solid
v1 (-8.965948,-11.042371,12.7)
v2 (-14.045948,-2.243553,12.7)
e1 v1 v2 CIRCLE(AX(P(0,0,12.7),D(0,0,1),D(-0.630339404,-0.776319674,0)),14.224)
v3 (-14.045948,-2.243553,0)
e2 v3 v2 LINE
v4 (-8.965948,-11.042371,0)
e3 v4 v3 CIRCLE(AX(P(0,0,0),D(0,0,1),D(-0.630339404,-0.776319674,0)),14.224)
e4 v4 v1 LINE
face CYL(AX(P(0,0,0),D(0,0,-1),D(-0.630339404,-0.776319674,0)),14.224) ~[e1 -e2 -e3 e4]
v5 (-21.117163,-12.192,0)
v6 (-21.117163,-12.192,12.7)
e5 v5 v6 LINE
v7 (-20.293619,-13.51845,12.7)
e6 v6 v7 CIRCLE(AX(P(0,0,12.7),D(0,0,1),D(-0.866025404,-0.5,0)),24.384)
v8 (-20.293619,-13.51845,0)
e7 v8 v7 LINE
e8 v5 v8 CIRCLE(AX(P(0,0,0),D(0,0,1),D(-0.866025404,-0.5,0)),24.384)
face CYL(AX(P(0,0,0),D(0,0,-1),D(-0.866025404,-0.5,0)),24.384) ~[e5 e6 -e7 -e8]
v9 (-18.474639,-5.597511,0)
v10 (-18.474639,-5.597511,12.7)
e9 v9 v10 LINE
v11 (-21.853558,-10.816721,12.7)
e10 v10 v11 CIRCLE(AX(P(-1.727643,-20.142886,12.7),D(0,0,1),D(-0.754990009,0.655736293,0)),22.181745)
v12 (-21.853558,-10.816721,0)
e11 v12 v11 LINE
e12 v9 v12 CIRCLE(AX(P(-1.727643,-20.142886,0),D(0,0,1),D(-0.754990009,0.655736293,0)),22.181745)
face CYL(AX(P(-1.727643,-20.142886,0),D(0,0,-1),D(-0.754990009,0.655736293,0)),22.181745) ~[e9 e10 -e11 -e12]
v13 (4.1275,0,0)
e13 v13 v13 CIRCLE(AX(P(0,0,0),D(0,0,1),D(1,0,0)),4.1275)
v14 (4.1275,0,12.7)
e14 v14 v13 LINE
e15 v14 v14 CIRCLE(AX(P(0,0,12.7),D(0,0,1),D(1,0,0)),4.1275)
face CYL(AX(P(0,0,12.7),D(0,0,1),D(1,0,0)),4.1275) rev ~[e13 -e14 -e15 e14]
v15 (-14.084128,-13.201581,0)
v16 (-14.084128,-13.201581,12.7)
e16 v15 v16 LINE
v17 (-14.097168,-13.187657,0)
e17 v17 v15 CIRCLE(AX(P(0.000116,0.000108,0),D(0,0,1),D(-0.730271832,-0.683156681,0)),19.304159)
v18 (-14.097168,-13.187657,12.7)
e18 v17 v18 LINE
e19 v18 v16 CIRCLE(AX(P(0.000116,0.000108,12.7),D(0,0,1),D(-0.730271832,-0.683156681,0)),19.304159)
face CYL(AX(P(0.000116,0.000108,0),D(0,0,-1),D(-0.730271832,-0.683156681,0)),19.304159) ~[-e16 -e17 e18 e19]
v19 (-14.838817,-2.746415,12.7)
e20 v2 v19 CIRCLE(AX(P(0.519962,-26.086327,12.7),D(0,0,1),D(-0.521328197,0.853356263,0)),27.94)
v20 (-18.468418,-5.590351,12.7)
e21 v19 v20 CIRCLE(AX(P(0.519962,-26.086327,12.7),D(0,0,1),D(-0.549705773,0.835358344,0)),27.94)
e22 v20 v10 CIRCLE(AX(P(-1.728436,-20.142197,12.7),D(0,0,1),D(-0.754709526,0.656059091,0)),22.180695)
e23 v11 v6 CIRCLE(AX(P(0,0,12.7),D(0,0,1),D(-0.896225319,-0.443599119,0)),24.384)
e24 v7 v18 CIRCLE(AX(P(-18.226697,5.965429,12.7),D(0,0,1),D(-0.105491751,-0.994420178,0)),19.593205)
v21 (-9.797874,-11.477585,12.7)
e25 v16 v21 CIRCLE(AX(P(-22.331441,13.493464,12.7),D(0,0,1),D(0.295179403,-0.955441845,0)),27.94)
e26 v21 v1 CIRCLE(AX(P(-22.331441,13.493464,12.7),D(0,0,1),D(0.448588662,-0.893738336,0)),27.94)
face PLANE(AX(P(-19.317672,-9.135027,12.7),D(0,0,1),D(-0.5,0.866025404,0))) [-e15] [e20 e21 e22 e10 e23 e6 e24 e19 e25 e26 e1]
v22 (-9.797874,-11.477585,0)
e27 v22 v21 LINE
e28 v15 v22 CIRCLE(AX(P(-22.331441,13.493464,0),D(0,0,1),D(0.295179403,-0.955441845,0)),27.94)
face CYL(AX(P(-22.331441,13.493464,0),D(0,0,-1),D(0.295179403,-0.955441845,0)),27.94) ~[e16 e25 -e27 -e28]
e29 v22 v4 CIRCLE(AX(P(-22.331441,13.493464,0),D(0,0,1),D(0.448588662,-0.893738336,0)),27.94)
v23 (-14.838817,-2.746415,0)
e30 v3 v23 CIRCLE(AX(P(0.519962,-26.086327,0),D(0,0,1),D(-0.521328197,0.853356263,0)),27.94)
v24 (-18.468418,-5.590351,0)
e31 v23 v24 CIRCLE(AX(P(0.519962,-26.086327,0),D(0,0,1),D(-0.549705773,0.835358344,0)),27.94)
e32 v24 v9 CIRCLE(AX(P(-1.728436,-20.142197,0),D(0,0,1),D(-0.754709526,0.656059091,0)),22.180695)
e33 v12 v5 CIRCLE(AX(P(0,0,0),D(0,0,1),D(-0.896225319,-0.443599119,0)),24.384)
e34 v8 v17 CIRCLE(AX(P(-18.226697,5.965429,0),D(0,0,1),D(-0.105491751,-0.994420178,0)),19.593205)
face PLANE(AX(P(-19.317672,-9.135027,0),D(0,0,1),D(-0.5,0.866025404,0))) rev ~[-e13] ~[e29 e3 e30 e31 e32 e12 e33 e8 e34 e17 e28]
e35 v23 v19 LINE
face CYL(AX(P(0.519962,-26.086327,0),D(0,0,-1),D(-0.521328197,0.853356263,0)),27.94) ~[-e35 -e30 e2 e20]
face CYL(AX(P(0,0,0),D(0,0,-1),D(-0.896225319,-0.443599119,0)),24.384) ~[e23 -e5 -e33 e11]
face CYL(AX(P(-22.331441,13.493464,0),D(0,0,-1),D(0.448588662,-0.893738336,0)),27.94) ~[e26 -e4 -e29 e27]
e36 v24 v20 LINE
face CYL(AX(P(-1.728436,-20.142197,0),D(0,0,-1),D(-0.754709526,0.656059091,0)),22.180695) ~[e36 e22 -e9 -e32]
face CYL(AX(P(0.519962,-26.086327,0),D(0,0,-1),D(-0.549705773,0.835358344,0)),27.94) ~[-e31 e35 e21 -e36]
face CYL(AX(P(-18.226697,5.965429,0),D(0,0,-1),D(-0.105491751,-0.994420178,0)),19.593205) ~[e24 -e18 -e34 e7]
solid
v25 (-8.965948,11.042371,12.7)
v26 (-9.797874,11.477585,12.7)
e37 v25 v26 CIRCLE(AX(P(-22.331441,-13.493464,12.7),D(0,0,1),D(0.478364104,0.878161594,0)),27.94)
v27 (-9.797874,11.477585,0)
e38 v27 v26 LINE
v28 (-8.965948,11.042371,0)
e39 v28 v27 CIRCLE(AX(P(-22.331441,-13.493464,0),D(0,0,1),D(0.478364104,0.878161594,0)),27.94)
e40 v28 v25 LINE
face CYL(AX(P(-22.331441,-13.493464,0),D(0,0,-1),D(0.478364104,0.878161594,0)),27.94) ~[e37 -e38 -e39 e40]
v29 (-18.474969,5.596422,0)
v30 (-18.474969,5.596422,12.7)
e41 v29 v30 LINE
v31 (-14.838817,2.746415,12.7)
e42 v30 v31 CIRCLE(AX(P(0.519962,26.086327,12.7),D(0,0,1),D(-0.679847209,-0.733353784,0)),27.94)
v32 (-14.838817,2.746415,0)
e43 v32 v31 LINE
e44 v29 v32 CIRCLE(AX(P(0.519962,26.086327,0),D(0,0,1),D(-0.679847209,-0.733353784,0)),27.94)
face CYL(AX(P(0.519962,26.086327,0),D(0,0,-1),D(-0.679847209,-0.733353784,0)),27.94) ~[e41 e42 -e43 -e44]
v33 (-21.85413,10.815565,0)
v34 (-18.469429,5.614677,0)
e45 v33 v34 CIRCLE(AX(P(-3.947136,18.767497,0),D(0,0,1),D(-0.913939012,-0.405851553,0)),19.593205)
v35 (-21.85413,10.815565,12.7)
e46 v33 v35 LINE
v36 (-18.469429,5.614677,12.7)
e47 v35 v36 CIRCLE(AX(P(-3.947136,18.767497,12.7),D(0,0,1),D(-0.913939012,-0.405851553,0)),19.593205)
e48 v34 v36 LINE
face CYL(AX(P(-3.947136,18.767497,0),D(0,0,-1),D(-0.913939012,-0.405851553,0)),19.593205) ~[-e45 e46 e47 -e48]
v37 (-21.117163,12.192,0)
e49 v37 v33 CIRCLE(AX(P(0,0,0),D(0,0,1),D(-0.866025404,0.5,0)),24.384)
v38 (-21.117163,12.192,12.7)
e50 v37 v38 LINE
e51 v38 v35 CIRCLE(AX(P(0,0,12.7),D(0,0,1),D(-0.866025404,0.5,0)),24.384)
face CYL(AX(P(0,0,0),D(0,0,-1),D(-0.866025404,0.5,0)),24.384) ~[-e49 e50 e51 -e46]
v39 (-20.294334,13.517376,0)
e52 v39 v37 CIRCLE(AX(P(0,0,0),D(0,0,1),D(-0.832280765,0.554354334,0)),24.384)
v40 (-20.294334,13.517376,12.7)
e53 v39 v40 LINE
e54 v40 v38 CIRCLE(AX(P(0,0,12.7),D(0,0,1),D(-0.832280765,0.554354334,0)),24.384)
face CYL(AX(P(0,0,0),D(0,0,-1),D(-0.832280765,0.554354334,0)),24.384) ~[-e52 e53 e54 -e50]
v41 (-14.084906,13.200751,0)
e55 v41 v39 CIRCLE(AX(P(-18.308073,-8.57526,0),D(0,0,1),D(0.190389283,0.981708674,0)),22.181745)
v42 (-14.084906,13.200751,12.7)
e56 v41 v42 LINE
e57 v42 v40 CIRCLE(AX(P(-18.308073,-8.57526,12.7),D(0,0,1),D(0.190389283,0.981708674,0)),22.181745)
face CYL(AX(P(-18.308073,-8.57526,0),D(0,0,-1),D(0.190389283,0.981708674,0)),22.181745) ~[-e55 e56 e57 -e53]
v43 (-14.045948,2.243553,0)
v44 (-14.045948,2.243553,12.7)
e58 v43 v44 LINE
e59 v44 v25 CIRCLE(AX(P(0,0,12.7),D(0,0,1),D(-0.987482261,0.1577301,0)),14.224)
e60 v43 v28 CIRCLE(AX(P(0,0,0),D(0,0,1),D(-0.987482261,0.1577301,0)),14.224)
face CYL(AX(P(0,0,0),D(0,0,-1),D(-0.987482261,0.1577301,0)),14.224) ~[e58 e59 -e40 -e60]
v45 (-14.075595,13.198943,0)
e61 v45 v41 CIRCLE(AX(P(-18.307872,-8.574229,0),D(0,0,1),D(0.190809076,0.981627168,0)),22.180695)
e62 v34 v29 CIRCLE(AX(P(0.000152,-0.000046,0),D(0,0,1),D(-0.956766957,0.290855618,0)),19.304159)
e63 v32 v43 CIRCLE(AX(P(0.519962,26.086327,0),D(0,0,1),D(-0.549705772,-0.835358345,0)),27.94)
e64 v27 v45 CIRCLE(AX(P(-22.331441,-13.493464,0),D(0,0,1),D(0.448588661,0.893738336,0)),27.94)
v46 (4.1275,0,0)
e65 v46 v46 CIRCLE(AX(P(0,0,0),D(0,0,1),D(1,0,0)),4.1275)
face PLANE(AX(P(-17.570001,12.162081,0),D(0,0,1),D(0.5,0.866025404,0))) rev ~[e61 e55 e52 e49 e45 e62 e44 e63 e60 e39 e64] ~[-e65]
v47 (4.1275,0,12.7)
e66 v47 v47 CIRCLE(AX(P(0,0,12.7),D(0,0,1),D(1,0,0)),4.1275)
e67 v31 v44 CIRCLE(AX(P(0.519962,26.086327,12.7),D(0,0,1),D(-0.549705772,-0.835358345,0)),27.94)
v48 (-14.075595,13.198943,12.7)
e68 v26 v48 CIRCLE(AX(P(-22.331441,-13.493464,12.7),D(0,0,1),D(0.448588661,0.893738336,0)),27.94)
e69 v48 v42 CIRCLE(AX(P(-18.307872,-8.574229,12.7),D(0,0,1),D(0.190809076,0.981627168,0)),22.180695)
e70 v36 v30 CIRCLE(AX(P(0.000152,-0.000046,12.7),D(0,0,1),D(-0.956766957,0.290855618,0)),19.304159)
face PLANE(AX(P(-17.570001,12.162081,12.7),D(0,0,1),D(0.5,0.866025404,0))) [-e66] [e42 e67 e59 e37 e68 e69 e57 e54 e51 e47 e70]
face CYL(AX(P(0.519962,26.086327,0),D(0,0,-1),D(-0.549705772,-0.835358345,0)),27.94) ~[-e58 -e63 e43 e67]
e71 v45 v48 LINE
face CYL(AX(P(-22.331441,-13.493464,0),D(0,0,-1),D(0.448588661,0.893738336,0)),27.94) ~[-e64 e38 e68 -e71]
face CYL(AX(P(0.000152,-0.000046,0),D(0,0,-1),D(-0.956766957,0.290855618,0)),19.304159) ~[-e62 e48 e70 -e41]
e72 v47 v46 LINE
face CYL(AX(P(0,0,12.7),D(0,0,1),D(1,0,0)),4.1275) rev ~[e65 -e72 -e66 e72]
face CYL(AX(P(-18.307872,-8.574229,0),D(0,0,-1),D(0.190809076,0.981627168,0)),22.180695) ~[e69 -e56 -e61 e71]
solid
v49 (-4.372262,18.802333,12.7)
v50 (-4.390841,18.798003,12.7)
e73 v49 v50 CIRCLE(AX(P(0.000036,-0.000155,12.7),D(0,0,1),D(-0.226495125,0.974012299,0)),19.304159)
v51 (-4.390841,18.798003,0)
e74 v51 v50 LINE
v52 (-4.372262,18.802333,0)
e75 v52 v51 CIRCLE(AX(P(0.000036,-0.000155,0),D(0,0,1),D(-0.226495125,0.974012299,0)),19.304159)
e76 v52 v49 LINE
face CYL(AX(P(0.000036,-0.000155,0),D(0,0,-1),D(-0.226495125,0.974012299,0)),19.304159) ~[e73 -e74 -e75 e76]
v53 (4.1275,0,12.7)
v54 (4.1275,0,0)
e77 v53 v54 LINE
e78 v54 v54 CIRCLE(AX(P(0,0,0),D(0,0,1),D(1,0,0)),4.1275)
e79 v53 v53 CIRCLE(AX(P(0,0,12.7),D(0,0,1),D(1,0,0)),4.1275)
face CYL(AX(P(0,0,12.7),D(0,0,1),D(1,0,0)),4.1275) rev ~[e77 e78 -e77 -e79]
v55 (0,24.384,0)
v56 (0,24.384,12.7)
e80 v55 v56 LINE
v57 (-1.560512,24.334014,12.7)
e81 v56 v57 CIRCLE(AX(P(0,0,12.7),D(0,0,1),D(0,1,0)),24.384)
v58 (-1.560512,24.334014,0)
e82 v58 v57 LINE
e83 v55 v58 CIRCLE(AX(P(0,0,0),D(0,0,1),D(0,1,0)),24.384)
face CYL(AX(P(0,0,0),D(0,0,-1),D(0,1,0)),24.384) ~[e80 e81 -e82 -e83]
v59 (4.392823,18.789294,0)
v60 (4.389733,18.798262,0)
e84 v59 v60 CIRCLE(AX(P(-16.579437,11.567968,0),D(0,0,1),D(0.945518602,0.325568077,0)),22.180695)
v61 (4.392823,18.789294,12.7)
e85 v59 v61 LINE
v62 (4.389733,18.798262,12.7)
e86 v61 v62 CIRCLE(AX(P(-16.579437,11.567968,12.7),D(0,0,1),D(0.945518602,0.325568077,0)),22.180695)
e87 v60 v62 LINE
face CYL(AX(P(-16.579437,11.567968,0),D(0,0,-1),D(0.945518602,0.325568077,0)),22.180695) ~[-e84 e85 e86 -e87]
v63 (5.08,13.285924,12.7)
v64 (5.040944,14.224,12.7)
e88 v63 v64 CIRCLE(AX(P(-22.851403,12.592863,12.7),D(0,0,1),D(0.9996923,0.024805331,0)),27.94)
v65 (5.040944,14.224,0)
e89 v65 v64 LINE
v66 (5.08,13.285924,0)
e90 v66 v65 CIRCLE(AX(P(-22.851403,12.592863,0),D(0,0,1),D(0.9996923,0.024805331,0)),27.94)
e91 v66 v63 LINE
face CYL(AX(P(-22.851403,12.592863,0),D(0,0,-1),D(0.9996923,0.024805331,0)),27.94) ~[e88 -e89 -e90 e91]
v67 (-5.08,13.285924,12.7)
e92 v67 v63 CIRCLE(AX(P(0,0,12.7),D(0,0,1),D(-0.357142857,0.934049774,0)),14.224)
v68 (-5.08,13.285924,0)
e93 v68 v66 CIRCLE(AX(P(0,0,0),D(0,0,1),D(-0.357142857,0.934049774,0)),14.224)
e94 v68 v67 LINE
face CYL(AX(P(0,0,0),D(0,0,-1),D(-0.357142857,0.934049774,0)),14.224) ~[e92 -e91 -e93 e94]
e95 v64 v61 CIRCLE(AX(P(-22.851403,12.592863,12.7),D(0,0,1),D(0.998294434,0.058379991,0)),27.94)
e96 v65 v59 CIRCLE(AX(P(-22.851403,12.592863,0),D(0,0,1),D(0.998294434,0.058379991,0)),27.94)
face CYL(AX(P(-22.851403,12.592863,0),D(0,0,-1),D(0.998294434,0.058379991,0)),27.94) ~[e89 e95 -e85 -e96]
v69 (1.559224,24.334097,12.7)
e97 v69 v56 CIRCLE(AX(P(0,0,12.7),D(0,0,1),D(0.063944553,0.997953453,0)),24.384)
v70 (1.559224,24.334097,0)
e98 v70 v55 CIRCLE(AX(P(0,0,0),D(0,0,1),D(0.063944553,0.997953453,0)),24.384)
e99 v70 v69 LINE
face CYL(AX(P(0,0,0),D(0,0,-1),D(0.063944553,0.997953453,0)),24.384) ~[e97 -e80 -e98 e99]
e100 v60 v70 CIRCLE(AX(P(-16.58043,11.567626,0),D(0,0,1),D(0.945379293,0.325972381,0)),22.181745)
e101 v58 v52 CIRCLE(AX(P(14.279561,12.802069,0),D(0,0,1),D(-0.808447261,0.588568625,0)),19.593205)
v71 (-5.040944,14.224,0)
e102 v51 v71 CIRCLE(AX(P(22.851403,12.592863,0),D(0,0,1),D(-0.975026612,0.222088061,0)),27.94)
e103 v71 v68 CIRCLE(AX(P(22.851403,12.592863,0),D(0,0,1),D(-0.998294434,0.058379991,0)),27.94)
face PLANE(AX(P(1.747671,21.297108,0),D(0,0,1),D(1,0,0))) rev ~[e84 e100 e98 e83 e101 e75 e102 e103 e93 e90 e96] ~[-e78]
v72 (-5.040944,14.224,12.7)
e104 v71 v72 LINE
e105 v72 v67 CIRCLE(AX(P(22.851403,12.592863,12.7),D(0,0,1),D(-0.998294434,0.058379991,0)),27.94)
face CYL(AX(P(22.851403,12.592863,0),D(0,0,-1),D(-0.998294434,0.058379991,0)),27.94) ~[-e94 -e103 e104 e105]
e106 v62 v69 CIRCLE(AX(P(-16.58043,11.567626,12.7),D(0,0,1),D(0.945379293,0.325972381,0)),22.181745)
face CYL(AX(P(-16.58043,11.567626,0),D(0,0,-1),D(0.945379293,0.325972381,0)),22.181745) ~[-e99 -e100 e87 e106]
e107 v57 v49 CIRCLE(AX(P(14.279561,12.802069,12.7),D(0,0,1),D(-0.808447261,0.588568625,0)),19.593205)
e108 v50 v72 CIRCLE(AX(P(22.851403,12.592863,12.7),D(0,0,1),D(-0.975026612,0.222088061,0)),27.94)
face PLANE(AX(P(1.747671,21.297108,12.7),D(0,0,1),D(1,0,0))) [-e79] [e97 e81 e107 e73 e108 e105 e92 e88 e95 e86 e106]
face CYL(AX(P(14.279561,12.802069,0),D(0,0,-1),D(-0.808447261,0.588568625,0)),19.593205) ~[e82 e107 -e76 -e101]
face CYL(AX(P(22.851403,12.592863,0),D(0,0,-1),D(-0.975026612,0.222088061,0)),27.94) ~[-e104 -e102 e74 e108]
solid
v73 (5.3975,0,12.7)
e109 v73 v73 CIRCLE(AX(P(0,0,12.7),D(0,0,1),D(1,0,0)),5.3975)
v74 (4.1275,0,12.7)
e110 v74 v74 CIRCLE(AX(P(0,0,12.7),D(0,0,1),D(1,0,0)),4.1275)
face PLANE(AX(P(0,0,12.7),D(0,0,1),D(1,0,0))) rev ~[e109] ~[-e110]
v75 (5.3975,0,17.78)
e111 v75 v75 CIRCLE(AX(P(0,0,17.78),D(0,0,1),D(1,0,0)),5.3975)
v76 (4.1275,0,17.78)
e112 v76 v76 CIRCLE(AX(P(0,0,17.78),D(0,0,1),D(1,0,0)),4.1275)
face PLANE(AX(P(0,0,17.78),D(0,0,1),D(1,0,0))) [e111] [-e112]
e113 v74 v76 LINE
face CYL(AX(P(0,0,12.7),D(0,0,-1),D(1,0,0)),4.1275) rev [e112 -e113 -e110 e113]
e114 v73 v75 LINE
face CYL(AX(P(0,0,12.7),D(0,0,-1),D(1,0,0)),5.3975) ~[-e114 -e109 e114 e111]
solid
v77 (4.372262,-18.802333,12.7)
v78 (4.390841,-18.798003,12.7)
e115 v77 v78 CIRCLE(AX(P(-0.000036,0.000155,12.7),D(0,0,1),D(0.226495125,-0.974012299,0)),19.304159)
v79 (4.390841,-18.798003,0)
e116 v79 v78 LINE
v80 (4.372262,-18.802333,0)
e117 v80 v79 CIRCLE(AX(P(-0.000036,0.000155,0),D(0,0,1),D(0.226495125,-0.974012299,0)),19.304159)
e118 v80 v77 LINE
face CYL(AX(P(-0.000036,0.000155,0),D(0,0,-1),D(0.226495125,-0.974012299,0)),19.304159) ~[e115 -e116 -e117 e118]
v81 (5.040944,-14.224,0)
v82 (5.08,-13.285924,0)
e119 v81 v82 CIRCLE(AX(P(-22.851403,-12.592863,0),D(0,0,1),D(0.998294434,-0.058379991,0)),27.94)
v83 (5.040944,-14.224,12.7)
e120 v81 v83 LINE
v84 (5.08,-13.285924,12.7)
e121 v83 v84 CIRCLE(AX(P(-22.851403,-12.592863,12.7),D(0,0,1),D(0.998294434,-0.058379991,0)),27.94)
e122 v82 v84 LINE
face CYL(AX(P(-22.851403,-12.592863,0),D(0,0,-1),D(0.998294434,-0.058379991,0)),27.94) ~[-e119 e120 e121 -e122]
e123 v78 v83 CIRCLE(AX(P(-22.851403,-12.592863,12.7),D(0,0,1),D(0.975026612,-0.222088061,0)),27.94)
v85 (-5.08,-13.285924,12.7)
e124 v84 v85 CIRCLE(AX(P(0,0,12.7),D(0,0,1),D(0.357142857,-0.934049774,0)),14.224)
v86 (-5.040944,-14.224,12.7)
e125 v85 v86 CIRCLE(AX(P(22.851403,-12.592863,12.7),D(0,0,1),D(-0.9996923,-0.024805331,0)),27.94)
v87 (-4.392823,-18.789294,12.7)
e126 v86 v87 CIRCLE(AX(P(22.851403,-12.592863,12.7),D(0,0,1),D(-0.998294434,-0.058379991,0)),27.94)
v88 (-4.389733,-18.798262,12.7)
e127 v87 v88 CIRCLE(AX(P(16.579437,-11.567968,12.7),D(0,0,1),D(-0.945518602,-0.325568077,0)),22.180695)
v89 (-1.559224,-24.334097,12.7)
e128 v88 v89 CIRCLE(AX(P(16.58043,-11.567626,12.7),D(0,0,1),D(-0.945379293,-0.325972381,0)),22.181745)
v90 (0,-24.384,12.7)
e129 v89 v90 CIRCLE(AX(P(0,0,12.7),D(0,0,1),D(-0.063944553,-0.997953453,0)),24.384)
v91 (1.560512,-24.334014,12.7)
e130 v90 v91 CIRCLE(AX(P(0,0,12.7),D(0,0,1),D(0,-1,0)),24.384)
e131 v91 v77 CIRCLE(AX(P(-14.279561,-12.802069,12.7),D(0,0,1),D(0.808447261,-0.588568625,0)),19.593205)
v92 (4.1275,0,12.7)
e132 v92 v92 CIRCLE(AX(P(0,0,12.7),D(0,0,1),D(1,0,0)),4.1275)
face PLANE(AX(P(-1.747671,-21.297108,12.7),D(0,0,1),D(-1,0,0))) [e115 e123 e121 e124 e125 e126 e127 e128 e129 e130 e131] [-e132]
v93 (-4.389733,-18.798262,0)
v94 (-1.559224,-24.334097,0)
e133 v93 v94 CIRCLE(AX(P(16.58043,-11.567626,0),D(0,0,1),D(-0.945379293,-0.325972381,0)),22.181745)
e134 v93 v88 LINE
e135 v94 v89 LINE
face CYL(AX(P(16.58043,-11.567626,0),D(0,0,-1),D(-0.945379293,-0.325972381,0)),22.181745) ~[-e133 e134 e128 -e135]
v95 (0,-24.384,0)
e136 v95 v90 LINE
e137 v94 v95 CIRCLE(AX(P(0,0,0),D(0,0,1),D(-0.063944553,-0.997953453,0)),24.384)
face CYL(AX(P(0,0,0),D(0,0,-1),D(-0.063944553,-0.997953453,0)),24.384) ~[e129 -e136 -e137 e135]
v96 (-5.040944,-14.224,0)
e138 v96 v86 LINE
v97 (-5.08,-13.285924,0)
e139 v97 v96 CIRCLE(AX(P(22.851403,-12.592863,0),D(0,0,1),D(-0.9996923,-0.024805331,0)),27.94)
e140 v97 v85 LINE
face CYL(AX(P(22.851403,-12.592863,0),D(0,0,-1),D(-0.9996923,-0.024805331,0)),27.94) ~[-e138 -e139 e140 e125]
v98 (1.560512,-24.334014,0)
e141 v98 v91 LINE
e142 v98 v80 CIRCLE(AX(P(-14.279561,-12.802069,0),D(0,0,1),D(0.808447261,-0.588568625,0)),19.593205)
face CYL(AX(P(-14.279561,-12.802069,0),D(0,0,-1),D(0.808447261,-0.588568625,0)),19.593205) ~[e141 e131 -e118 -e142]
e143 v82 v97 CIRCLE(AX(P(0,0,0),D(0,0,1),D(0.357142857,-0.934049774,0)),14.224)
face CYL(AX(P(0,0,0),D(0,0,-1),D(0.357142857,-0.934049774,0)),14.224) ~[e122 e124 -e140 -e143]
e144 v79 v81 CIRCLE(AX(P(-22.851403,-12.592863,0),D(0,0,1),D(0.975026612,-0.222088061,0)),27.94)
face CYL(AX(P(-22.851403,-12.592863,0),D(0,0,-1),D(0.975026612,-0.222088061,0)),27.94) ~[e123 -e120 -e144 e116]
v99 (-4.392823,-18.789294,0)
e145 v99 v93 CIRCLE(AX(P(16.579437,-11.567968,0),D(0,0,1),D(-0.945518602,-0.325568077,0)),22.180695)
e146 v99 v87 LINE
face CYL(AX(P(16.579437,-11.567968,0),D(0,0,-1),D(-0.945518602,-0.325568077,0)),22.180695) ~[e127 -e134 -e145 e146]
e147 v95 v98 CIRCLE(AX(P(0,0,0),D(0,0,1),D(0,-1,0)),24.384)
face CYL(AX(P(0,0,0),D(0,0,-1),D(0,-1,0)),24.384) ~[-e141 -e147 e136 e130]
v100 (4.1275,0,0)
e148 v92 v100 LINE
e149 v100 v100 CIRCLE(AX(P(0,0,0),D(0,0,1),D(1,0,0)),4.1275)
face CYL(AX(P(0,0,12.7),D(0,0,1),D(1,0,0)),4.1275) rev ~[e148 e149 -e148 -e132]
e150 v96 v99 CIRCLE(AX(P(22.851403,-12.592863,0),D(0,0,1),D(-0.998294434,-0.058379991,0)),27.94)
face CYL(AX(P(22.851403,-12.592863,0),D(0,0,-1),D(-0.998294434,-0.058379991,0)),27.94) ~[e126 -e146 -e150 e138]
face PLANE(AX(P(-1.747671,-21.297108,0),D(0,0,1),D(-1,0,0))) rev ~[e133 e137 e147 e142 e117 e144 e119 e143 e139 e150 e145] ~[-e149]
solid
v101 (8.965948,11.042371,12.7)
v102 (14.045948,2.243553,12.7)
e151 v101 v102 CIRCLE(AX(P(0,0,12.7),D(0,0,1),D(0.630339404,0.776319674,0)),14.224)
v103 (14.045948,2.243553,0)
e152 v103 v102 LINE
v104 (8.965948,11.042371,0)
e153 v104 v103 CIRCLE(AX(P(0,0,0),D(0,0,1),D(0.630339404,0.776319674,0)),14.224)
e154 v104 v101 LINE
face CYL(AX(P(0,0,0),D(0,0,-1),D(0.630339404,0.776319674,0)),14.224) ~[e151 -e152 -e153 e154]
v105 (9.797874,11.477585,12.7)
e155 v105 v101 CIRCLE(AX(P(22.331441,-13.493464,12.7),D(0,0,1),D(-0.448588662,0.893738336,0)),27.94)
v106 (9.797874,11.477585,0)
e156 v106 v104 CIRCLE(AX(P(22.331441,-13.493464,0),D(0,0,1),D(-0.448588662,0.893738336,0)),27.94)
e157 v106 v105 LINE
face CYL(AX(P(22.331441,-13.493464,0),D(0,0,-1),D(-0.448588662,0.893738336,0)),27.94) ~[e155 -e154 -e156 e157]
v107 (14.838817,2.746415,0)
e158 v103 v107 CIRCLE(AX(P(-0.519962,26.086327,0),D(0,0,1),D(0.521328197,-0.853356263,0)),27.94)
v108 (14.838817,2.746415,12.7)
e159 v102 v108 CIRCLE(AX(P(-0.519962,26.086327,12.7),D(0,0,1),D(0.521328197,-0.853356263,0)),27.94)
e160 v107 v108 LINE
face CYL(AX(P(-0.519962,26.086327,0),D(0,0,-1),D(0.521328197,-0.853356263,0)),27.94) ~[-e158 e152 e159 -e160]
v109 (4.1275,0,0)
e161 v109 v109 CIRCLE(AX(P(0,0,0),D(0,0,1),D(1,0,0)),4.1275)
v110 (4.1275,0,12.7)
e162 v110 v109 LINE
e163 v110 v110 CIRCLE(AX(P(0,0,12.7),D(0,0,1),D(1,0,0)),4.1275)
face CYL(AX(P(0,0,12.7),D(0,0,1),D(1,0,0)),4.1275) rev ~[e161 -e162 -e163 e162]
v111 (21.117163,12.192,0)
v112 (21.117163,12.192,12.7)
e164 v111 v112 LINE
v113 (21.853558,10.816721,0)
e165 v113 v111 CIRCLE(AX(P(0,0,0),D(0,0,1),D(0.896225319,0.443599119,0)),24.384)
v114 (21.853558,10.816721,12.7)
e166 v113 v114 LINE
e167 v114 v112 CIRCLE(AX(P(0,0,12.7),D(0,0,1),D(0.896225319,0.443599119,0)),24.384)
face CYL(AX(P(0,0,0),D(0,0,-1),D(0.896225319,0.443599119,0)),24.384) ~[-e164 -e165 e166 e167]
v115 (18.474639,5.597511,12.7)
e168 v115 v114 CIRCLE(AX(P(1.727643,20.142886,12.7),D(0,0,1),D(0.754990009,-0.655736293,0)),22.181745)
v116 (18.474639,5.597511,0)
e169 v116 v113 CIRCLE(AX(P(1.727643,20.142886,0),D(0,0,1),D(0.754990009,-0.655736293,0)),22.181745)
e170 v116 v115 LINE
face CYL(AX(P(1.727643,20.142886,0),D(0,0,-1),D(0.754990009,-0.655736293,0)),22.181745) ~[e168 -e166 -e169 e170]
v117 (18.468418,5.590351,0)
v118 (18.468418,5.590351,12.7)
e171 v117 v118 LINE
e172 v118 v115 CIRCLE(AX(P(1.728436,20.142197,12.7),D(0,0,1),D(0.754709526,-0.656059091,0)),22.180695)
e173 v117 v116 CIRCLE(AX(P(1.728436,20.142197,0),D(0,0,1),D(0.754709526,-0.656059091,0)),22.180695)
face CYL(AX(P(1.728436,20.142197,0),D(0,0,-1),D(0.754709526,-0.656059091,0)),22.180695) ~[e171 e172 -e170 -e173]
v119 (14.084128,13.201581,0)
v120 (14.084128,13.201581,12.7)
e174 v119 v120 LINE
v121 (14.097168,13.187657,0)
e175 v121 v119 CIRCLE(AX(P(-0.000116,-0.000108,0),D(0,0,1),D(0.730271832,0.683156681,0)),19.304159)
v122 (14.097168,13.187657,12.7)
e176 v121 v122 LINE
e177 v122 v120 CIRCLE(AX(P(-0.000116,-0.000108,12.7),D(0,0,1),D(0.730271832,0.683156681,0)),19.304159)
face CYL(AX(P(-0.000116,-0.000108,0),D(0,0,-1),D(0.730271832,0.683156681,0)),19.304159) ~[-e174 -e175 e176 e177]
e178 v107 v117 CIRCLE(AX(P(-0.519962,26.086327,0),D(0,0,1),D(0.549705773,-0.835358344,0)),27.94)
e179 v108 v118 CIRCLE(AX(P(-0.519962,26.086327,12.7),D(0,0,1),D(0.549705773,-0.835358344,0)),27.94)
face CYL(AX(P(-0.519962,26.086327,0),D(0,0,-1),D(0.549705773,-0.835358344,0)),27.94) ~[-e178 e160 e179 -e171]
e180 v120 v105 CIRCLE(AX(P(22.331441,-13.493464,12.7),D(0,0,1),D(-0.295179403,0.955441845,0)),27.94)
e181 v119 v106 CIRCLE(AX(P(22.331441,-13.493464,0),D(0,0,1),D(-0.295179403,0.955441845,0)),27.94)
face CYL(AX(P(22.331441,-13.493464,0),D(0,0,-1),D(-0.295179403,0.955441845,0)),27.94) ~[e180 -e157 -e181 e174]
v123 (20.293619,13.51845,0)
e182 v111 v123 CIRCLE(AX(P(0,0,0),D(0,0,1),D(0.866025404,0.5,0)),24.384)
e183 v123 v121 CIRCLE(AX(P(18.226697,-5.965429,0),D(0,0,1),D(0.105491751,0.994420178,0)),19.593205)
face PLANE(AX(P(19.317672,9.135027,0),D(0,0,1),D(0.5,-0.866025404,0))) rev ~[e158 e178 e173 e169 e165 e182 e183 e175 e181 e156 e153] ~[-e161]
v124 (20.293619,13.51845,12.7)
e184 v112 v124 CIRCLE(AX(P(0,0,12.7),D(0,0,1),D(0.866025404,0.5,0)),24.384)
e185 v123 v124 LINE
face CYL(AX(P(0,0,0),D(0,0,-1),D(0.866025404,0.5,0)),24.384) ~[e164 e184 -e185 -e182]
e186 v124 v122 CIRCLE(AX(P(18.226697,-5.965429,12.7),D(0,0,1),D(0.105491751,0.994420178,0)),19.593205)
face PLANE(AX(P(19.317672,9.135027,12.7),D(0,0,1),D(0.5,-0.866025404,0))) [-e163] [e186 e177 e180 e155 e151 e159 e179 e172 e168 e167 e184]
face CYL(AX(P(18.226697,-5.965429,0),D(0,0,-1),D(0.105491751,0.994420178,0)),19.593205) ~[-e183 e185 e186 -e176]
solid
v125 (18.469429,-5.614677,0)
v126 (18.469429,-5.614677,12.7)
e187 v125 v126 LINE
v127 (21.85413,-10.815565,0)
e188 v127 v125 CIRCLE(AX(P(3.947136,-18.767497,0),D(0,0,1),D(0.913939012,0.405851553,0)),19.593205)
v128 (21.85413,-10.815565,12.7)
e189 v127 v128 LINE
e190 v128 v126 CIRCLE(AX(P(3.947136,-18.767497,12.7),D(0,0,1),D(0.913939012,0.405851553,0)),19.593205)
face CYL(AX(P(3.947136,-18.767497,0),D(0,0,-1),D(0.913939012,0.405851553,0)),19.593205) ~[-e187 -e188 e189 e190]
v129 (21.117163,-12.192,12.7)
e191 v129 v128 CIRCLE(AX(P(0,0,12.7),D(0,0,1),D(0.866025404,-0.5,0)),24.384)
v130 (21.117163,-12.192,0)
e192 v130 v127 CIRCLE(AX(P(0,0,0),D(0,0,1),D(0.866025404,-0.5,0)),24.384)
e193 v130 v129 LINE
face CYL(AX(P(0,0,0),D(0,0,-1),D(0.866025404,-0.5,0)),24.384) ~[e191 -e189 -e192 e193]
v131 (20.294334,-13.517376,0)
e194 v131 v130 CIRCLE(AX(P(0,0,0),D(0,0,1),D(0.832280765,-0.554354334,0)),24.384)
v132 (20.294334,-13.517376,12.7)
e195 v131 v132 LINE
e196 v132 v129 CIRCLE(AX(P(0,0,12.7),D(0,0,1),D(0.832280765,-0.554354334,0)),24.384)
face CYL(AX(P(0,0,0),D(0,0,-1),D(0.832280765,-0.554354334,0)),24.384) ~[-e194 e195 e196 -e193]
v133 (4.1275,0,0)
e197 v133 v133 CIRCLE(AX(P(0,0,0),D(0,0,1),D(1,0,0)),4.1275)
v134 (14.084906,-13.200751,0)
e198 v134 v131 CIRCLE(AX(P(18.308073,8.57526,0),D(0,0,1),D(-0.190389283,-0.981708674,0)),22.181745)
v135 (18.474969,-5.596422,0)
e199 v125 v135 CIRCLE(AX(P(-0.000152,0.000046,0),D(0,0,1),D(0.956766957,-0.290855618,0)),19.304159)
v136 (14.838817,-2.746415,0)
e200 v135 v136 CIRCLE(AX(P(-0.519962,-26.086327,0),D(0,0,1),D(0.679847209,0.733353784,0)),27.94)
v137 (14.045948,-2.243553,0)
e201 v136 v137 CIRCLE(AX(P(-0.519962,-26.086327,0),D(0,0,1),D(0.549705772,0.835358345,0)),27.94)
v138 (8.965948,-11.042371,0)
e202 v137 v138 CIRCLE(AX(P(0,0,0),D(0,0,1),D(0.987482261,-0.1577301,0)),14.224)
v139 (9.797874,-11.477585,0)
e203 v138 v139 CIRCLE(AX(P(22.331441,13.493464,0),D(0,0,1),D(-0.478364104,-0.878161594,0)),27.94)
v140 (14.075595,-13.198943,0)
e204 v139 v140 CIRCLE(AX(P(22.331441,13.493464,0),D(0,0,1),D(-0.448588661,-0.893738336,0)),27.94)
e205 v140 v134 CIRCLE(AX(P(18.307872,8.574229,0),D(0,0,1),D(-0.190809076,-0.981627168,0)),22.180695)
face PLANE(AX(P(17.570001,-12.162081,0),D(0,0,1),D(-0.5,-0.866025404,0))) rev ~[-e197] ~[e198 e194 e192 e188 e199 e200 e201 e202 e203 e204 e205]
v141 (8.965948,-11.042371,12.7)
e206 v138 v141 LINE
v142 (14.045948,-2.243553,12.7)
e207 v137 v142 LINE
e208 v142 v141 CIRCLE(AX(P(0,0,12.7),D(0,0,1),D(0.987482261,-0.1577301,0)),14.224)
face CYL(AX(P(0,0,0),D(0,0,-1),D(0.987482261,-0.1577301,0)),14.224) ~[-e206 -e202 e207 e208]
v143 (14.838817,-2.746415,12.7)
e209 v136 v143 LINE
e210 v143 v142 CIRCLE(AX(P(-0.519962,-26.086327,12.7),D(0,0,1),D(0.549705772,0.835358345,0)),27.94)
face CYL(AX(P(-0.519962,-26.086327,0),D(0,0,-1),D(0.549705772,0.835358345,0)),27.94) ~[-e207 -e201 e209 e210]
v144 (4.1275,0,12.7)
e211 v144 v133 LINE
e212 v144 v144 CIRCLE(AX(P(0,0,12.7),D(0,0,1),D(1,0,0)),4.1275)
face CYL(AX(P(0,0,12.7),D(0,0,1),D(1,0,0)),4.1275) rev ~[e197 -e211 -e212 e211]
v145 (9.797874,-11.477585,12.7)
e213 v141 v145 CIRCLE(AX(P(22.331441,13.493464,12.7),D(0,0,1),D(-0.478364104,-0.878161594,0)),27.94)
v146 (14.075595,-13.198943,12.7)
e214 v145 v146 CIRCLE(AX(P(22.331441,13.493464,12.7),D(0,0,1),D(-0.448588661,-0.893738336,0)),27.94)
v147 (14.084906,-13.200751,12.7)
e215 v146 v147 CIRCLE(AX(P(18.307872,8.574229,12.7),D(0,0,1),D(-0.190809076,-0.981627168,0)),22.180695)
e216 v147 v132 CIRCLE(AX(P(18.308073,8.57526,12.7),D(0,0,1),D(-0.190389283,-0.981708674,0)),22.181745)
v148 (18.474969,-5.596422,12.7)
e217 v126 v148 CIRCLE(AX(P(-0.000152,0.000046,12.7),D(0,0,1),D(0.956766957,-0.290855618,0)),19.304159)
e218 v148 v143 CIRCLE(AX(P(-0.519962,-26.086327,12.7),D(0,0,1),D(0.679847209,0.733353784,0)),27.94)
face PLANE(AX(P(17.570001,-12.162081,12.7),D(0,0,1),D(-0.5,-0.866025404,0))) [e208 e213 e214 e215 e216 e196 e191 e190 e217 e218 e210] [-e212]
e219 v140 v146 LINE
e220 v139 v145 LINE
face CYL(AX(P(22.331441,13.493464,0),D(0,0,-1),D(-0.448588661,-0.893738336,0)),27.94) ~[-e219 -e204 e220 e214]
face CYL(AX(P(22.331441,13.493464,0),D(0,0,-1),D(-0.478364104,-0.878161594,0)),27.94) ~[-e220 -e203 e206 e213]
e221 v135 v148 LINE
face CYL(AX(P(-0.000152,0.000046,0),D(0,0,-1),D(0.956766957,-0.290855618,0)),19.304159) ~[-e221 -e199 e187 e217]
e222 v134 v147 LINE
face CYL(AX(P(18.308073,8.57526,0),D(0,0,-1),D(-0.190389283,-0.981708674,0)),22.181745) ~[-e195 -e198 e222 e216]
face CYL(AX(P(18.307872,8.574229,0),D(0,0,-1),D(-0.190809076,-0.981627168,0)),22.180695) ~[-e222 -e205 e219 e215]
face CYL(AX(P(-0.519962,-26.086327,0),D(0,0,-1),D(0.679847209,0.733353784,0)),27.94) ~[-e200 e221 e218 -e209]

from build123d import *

# Parameters (mm, degrees)
F1_DEPTH = 12.7
F2_COUNT = 6
F3_R     = 4.1275
F4_DEPTH = 25.4
F5_R     = 5.3975
F5_R_2   = 4.1275
F6_DEPTH = 5.08


with BuildPart() as f1:
    # F0 (on Top) → F1 (new body)
    with BuildSketch(Plane.XY):
        with BuildLine():
            ThreePointArc((0, 19.304), (2.209384841, 19.1771487616), (4.3897328809, 18.7982621865))
            ThreePointArc((4.3897328809, 18.7982621865), (3.169400646, 21.6658446075), (1.5592239792, 24.3340969954))
            ThreePointArc((1.5592239792, 24.3340969954), (0.7800111741, 24.3715210557), (0, 24.384))
            Line((0, 24.384), (0, 19.304))
        make_face()
        with BuildLine():
            ThreePointArc((-1.5605116, 24.334014456), (-3.1867661988, 21.6801927129), (-4.3722618118, 18.8023334363))
            ThreePointArc((-4.3722618118, 18.8023334363), (-2.2004739656, 19.1781732792), (0, 19.304))
            Line((0, 19.304), (0, 24.384))
            ThreePointArc((0, 24.384), (-0.7806559755, 24.3715004103), (-1.5605116, 24.334014456))
        make_face()
        with BuildLine():
            ThreePointArc((5.08, 13.2859239799), (2.5829434091, 13.987515124), (0, 14.224))
            ThreePointArc((0, 14.224), (-2.5829434091, 13.987515124), (-5.08, 13.2859239799))
            ThreePointArc((-5.08, 13.2859239799), (-8.0642499961, -11.7170835962), (14.224, 0))
            ThreePointArc((14.224, 0), (11.7170835962, 8.0642499961), (5.08, 13.2859239799))
        make_face()
        with BuildLine():
            ThreePointArc((-4.3722618118, 18.8023334363), (-4.3815517662, 18.8001707471), (-4.3908406509, 18.7980034679))
            ThreePointArc((-4.3908406509, 18.7980034679), (-4.8105950781, 16.5244618609), (-5.0409436067, 14.224))
            Line((-5.0409436067, 14.224), (0, 14.224))
            Line((0, 14.224), (0, 19.304))
            ThreePointArc((0, 19.304), (-2.2004739656, 19.1781732792), (-4.3722618118, 18.8023334363))
        make_face()
        with BuildLine():
            ThreePointArc((4.3928229559, 18.7892941844), (4.3912783978, 18.7937783506), (4.3897328809, 18.7982621865))
            ThreePointArc((4.3897328809, 18.7982621865), (2.209384841, 19.1771487616), (0, 19.304))
            Line((0, 19.304), (0, 14.224))
            Line((0, 14.224), (5.0409436067, 14.224))
            ThreePointArc((5.0409436067, 14.224), (4.8112231634, 16.5200402325), (4.3928229559, 18.7892941844))
        make_face()
        with BuildLine():
            ThreePointArc((5.08, 13.2859239799), (5.0644124402, 13.7551260567), (5.0409436067, 14.224))
            Line((5.0409436067, 14.224), (0, 14.224))
            ThreePointArc((0, 14.224), (2.5829434091, 13.987515124), (5.08, 13.2859239799))
        make_face()
        with BuildLine():
            Line((0, 14.224), (-5.0409436067, 14.224))
            ThreePointArc((-5.0409436067, 14.224), (-5.0644124402, 13.7551260567), (-5.08, 13.2859239799))
            ThreePointArc((-5.08, 13.2859239799), (-2.5829434091, 13.987515124), (0, 14.224))
        make_face()
    extrude(amount=F1_DEPTH)


with BuildPart() as f2_1:
    # F2: instance of F1
    add(f1.part.rotate(Axis((0, 0, 0), (0, 0, -1)), 1 * 360 / F2_COUNT))


with BuildPart() as f2_2:
    # F2: instance of F1
    add(f1.part.rotate(Axis((0, 0, 0), (0, 0, -1)), 2 * 360 / F2_COUNT))


with BuildPart() as f2_3:
    # F2: instance of F1
    add(f1.part.rotate(Axis((0, 0, 0), (0, 0, -1)), 3 * 360 / F2_COUNT))


with BuildPart() as f2_4:
    # F2: instance of F1
    add(f1.part.rotate(Axis((0, 0, 0), (0, 0, -1)), 4 * 360 / F2_COUNT))


with BuildPart() as f2_5:
    # F2: instance of F1
    add(f1.part.rotate(Axis((0, 0, 0), (0, 0, -1)), 5 * 360 / F2_COUNT))


with BuildPart() as f4_tool:
    # F3 (on face) → F4 (new body)
    with BuildSketch(Plane.XY.offset(12.7)):
        Circle(F3_R)
    extrude(amount=-F4_DEPTH)


with BuildPart() as f1_1:
    add(f1.part)

    # F4: cut by f4_tool
    add(f4_tool.part, mode=Mode.SUBTRACT)


with BuildPart() as f2_1_1:
    add(f2_1.part)

    # F4: cut by f4_tool
    add(f4_tool.part, mode=Mode.SUBTRACT)


with BuildPart() as f2_2_1:
    add(f2_2.part)

    # F4: cut by f4_tool
    add(f4_tool.part, mode=Mode.SUBTRACT)


with BuildPart() as f2_3_1:
    add(f2_3.part)

    # F4: cut by f4_tool
    add(f4_tool.part, mode=Mode.SUBTRACT)


with BuildPart() as f2_4_1:
    add(f2_4.part)

    # F4: cut by f4_tool
    add(f4_tool.part, mode=Mode.SUBTRACT)


with BuildPart() as f2_5_1:
    add(f2_5.part)

    # F4: cut by f4_tool
    add(f4_tool.part, mode=Mode.SUBTRACT)


with BuildPart() as f6:
    # F5 (on face) → F6 (new body)
    with BuildSketch(Plane.XY.offset(12.7)):
        Circle(F5_R)
        Circle(F5_R_2, mode=Mode.SUBTRACT)
    extrude(amount=F6_DEPTH)


solid = Compound([f1_1.part, f2_1_1.part, f2_2_1.part, f2_3_1.part, f2_4_1.part, f2_5_1.part, f6.part])
